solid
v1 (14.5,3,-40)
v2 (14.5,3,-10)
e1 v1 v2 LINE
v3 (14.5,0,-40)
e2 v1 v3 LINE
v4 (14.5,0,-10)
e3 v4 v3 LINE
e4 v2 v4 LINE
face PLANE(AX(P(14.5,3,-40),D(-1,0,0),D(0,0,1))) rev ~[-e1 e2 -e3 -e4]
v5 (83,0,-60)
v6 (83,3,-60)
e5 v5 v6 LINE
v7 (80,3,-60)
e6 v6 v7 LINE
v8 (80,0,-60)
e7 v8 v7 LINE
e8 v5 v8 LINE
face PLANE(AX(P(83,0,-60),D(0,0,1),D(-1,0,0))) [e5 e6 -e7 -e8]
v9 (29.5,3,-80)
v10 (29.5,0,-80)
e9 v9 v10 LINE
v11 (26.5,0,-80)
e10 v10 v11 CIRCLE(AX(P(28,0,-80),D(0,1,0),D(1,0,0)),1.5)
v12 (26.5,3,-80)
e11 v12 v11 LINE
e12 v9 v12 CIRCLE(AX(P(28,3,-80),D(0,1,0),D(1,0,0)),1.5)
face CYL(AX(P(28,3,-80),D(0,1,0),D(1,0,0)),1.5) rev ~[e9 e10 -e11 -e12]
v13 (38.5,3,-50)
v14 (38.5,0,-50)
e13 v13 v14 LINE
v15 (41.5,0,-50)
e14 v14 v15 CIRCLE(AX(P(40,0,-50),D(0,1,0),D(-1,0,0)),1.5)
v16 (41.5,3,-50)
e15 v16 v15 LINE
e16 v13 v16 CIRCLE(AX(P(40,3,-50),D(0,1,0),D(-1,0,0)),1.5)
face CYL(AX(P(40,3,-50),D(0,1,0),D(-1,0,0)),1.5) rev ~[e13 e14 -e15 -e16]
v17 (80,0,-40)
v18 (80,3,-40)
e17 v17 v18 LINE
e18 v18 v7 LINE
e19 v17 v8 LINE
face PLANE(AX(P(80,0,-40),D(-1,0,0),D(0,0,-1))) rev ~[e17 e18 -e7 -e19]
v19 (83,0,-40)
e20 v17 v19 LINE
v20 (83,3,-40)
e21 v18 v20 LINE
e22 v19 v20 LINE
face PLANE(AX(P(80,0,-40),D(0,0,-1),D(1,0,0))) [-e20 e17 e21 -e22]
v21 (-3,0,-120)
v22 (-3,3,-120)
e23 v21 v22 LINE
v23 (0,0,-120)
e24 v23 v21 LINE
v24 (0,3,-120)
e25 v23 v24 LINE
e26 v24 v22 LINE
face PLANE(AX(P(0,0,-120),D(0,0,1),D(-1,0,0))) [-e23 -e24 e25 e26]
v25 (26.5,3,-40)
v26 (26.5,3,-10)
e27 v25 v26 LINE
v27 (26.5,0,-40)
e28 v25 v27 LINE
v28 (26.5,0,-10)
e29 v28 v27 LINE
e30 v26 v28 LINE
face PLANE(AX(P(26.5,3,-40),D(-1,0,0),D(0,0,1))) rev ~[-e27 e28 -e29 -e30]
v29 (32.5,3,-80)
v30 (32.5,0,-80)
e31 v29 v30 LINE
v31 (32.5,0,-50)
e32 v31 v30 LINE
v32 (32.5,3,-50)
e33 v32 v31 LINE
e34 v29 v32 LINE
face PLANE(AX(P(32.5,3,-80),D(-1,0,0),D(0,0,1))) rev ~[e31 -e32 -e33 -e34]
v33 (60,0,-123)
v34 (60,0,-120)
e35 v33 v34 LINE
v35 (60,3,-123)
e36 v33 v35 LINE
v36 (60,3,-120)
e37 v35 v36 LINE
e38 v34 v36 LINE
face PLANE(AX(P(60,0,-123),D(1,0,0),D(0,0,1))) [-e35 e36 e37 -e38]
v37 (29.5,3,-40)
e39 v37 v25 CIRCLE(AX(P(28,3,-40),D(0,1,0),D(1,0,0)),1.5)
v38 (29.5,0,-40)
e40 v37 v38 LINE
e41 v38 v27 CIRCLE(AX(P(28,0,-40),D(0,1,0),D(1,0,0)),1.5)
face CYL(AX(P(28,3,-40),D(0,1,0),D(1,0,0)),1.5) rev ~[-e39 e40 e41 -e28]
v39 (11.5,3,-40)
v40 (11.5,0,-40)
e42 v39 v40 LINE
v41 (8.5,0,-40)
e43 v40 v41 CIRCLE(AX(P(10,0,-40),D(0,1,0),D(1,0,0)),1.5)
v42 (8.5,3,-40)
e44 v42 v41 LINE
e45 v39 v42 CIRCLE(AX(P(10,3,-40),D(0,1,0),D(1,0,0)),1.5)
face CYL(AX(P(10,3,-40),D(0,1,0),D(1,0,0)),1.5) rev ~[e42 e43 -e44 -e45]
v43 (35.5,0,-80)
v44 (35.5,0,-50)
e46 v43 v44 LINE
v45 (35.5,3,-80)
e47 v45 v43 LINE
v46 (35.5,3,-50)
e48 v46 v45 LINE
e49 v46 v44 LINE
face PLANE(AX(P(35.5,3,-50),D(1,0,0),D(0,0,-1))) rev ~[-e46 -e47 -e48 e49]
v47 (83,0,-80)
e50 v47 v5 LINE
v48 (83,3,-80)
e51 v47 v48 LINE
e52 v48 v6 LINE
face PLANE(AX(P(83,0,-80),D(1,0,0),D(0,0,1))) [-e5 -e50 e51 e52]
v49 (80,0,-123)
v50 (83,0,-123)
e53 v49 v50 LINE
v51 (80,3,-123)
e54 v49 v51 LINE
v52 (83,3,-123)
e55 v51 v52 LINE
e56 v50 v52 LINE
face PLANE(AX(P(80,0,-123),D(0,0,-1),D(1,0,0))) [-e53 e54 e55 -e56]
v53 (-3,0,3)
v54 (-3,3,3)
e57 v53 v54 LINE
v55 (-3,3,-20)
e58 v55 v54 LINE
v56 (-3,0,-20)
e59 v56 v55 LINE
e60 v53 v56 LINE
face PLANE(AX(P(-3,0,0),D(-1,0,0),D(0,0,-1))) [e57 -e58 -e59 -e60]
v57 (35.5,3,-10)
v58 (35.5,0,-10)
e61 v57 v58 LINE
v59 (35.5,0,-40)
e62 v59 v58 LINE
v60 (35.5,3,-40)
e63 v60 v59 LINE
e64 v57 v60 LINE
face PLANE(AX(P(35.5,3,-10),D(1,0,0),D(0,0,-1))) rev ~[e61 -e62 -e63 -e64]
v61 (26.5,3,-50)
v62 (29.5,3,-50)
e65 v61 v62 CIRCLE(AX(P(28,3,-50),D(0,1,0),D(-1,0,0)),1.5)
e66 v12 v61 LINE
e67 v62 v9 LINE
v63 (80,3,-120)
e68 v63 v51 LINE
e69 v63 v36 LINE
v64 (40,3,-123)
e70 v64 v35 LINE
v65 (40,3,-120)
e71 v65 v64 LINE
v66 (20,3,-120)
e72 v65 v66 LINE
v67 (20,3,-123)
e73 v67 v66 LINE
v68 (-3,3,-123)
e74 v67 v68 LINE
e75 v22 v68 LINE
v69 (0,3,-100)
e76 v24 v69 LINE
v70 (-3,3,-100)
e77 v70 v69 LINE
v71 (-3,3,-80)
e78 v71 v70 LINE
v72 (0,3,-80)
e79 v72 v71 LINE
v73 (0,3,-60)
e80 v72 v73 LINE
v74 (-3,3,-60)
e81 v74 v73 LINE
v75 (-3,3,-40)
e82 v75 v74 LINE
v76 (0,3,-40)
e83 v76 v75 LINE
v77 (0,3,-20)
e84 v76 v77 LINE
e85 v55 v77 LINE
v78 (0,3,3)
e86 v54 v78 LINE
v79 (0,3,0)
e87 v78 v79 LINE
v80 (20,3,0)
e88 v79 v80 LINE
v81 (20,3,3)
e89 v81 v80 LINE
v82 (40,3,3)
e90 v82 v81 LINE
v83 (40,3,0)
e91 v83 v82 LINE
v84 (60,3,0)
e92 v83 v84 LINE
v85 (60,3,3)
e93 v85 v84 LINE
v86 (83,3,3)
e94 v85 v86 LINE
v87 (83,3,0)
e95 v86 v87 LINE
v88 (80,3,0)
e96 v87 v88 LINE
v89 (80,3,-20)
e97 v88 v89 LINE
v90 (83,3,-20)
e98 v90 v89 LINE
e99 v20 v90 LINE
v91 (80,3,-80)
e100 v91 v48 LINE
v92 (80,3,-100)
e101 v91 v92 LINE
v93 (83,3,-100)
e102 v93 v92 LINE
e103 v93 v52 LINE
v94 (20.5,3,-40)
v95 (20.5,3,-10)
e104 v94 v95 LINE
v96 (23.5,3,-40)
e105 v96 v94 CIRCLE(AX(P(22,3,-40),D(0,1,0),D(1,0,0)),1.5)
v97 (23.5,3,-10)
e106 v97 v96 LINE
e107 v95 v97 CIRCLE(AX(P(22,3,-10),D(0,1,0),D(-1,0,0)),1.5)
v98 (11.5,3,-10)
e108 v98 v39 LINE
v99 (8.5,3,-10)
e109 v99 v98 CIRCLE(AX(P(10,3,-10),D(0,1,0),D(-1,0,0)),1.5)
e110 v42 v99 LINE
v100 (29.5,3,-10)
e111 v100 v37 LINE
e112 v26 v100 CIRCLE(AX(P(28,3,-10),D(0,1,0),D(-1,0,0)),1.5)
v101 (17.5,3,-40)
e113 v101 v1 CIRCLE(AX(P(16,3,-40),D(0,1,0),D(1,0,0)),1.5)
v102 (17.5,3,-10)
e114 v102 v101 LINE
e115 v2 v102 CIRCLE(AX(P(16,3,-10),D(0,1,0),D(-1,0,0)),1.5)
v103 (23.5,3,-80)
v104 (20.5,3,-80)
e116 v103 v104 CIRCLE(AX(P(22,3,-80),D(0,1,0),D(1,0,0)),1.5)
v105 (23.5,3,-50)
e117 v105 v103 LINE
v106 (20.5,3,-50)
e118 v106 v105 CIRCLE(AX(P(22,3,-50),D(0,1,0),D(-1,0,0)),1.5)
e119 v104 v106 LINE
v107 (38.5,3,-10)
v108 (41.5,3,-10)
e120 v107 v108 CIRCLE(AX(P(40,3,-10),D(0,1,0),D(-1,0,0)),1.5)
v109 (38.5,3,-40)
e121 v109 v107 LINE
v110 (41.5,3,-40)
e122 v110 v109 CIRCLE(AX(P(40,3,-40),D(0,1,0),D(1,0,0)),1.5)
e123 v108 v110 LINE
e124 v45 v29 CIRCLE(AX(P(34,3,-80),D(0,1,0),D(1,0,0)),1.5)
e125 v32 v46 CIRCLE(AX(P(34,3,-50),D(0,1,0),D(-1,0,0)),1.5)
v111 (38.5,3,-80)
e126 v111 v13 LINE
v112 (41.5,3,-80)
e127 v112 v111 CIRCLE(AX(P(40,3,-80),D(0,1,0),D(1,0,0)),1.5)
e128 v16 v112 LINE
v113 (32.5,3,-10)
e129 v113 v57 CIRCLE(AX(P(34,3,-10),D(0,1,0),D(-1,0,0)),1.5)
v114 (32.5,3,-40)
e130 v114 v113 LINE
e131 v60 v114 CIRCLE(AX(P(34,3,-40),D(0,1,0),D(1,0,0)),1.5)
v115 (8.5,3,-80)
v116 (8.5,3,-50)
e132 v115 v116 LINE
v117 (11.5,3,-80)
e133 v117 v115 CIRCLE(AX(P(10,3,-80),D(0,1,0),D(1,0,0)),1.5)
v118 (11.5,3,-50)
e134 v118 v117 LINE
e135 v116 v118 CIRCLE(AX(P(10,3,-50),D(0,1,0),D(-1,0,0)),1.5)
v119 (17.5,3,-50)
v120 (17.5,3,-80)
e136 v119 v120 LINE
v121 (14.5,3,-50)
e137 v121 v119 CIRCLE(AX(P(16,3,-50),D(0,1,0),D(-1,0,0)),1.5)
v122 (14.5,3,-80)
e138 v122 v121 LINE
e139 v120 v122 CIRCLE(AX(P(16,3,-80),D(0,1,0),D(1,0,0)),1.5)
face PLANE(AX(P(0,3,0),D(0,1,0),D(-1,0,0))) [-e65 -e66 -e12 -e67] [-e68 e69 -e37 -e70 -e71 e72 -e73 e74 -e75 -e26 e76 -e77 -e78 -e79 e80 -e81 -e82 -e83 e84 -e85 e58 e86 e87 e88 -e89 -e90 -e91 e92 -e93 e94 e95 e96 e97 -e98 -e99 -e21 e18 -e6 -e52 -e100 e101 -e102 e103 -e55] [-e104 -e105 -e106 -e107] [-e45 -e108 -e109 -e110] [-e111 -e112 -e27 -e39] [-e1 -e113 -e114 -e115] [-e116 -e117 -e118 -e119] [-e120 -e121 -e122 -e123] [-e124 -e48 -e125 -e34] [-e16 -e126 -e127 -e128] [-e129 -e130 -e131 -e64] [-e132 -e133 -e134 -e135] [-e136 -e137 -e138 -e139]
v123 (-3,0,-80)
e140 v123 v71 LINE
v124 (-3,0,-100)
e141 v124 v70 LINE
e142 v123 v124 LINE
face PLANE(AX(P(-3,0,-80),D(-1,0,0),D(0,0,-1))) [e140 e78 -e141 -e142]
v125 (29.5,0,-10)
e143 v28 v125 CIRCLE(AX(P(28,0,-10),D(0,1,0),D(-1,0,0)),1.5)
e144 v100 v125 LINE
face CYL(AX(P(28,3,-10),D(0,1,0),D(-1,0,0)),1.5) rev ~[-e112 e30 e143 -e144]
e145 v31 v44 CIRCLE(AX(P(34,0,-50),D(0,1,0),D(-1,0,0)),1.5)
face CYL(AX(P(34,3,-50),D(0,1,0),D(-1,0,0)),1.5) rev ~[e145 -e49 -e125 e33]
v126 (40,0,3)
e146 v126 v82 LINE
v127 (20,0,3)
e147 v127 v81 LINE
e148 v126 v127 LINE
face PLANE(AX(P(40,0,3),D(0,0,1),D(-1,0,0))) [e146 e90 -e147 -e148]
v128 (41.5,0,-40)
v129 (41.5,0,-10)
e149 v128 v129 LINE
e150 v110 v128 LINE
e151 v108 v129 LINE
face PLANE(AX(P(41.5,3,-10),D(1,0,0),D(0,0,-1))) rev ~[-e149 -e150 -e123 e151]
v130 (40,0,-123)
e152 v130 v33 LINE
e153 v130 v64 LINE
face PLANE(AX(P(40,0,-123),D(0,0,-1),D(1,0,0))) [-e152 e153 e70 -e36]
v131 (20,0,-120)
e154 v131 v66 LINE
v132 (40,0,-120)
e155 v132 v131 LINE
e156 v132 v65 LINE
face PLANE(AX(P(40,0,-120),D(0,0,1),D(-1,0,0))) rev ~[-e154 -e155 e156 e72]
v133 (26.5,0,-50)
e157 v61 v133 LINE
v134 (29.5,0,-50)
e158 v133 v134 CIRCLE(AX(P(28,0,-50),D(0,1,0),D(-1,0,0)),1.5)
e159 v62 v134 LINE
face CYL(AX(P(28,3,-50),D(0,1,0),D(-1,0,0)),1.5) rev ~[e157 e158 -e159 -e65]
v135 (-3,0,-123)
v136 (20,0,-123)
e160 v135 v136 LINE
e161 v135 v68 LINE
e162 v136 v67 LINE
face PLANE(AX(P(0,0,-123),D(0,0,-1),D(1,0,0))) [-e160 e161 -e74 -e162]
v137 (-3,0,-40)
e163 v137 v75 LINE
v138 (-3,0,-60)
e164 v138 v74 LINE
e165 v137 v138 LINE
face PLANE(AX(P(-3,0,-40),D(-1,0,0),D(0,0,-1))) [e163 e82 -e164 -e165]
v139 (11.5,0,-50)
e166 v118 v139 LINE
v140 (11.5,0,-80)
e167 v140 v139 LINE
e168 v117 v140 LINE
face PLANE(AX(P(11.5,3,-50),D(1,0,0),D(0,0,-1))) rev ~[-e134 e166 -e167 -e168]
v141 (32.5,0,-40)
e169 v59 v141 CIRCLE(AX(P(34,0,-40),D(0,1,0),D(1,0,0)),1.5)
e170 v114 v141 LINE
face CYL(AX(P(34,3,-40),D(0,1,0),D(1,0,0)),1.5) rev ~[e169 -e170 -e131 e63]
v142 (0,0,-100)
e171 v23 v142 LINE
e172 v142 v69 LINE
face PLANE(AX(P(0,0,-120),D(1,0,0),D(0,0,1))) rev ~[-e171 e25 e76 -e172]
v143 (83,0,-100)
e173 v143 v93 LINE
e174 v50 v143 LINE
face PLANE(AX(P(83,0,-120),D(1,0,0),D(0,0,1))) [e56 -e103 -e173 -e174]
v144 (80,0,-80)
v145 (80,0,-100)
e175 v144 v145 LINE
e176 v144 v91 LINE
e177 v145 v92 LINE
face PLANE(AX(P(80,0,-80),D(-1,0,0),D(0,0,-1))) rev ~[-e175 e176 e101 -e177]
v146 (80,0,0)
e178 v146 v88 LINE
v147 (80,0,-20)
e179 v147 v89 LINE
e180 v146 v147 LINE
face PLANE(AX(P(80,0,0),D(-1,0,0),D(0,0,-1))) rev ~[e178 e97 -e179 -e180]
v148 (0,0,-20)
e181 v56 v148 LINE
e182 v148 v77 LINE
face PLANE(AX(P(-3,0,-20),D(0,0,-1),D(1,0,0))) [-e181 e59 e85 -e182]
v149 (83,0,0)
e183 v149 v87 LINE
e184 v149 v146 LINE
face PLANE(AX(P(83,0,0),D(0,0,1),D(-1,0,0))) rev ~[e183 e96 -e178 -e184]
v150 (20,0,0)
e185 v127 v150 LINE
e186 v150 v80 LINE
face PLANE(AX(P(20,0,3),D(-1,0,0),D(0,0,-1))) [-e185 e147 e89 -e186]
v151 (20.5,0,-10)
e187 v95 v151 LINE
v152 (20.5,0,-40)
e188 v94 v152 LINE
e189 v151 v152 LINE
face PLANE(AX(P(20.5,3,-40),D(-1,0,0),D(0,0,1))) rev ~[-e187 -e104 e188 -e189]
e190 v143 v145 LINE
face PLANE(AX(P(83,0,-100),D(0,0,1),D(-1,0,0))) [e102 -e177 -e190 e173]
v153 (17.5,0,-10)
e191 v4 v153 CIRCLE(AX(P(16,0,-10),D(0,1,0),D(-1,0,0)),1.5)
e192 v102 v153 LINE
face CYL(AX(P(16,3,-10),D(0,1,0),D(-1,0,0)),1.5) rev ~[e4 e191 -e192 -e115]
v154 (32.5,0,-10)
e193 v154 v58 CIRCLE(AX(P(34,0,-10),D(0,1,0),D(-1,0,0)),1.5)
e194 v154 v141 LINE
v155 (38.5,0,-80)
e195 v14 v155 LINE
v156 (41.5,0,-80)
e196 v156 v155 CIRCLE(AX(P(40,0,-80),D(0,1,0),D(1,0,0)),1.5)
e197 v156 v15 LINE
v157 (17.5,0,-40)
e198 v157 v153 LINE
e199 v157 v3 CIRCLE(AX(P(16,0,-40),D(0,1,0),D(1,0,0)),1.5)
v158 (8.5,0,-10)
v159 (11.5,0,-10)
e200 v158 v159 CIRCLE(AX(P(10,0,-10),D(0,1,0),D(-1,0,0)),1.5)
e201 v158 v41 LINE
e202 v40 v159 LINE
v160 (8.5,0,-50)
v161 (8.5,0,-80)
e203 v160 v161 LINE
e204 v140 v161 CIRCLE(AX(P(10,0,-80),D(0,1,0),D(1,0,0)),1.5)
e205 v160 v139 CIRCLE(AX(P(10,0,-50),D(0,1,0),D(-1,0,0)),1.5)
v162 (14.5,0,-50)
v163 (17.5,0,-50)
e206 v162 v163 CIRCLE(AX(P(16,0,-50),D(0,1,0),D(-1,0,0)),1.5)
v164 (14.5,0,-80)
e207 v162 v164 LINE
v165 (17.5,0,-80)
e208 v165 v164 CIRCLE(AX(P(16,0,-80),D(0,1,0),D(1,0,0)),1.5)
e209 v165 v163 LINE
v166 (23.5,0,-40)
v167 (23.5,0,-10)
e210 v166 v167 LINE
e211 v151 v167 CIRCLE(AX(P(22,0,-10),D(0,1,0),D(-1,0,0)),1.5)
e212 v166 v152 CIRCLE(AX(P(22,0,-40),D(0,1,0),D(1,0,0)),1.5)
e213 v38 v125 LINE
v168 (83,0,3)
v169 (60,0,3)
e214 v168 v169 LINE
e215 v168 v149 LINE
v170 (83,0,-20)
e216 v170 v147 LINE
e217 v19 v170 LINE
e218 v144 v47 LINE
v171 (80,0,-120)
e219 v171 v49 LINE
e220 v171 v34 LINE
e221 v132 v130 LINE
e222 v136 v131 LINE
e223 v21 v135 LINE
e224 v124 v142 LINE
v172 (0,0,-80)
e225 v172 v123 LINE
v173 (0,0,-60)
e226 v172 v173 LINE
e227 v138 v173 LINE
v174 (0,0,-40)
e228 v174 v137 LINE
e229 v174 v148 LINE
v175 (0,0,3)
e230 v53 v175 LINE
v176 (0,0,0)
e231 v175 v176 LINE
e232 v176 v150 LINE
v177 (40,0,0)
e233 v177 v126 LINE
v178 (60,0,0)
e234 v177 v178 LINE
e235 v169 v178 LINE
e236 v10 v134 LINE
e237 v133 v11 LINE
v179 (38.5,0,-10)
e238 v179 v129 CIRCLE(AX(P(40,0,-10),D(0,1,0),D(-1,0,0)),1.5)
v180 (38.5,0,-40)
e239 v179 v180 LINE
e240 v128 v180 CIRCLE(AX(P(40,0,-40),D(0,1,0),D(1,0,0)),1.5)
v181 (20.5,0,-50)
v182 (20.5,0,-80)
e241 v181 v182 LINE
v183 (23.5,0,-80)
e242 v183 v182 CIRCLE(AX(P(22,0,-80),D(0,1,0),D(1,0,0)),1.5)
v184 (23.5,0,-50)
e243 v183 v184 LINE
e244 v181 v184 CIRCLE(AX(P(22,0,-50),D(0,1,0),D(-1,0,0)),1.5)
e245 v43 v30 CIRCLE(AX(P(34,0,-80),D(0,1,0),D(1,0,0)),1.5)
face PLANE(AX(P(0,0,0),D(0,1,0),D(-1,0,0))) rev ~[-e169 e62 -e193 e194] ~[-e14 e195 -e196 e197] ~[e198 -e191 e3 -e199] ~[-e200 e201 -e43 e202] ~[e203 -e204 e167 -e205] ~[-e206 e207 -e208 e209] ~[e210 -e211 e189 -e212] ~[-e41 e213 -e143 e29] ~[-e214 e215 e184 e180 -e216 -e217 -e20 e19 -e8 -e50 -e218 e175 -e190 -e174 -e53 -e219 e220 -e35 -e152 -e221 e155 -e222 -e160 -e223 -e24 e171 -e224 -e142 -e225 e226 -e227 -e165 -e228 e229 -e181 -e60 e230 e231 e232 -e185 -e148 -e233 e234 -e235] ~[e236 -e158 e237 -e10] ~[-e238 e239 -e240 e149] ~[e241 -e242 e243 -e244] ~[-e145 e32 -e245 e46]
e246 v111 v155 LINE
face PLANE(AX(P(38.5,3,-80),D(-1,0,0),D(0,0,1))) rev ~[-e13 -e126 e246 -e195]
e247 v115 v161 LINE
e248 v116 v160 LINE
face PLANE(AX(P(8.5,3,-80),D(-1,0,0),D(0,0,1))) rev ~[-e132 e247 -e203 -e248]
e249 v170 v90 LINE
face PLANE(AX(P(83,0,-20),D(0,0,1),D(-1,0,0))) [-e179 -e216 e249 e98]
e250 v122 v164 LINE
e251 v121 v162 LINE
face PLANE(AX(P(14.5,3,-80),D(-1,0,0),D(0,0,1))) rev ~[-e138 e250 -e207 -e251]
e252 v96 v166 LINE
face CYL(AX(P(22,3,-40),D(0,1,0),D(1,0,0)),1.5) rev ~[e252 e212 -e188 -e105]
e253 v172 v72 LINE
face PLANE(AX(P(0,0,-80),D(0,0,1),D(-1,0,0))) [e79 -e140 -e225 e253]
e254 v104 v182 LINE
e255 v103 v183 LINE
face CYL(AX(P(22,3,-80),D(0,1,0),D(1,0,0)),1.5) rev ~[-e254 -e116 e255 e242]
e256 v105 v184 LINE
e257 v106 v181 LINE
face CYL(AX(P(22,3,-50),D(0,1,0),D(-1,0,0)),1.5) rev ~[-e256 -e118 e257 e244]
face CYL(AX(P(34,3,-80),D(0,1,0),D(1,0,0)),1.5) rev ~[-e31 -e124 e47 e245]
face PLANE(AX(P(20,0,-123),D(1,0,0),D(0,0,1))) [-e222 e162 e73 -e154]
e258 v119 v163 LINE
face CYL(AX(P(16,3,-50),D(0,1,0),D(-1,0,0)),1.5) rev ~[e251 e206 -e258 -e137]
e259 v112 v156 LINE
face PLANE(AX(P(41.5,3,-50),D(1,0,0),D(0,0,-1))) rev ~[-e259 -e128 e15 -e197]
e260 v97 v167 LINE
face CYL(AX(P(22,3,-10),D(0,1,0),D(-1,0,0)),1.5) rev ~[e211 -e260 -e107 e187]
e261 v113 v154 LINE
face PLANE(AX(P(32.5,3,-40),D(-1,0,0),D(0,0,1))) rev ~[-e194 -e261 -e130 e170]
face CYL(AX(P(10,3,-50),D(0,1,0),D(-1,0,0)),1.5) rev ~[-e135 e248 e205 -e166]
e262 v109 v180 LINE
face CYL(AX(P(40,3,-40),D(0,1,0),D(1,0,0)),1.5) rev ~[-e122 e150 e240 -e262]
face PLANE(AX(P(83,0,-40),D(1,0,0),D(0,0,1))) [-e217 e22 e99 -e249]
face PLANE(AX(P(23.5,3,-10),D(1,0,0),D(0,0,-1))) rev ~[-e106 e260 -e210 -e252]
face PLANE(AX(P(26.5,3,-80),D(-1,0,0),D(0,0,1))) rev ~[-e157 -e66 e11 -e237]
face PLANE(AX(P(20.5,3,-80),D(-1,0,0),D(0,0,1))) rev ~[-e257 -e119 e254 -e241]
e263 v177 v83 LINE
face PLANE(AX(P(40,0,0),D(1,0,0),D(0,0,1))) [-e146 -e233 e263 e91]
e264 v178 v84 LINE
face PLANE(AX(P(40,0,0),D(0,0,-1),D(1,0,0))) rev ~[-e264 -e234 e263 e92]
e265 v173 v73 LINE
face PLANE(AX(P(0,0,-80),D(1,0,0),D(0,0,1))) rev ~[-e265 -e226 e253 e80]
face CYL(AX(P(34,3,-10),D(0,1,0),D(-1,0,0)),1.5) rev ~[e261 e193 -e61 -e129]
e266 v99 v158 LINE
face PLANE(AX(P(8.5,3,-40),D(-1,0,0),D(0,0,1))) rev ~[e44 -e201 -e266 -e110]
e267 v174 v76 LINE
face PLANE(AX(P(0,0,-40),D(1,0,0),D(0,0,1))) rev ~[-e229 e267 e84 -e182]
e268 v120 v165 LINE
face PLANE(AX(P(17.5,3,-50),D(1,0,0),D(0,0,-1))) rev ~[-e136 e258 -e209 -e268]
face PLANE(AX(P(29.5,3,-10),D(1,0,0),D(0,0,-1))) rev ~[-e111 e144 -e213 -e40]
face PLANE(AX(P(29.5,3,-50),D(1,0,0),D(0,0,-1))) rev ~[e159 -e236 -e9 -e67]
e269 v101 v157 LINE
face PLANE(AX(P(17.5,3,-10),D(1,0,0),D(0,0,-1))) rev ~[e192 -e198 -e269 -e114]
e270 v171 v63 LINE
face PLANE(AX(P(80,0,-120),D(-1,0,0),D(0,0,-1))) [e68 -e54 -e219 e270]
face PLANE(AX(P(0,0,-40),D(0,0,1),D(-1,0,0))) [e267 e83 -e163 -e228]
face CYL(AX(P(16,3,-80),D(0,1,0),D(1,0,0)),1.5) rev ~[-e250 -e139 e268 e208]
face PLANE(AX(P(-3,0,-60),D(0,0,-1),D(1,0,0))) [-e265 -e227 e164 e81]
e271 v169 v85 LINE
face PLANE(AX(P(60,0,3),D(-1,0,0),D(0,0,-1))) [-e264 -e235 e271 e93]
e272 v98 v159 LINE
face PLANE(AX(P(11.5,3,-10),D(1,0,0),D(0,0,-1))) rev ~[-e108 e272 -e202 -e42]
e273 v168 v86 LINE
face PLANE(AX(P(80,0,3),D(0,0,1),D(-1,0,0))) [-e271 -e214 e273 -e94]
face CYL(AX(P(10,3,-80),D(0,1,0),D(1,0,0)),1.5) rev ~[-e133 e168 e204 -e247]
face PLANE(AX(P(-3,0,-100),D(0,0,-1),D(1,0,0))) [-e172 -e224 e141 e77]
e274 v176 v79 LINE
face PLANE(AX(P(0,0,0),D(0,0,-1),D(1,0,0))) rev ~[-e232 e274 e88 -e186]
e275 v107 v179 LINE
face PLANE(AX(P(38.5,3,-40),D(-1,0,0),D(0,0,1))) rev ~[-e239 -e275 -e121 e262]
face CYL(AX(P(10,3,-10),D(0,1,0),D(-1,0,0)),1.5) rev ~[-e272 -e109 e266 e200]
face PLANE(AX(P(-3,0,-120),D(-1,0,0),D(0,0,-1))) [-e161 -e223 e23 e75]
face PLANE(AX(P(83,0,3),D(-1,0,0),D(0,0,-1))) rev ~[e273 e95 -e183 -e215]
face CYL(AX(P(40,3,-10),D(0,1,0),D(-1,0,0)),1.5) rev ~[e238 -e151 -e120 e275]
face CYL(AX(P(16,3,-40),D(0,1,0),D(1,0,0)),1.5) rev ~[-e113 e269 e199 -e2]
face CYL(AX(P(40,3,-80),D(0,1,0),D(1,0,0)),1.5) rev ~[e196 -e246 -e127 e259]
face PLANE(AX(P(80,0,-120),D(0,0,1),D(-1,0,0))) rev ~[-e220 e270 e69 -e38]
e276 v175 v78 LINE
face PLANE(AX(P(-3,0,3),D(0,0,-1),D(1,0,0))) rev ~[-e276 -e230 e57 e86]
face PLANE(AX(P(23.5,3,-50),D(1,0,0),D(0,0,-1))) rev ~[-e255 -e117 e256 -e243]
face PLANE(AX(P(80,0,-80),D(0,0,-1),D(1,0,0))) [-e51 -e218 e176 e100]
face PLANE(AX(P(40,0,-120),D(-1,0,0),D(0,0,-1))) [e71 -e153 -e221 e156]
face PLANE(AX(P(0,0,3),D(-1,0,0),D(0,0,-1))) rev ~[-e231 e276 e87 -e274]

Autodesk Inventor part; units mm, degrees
ref_plane "YZ Plane" through (0, 0, 0) normal (1, 0, 0) x (0, 1, 0)
ref_plane "XZ Plane" through (0, 0, 0) normal (0, 1, 0) x (-1, 0, 0)
ref_plane "XY Plane" through (0, 0, 0) normal (0, 0, 1) x (1, 0, 0)
sketch "Sketch1" plane through (0, 0, 0) normal (0, 1, 0) x (-1, 0, 0)
  line L0 (0, 0) -> (-80, 0)
  line L1 (-80, 0) -> (-80, -120)
  line L2 (-80, -120) -> (0, -120)
  line L3 (0, -120) -> (0, 0)
  line L4 (0, -120) -> (0, -123)
  line L5 (0, -123) -> (-20, -123)
  line L6 (-20, -123) -> (-20, -120)
  line L7 (-40, -123) -> (-60, -123)
  line L8 (-60, -123) -> (-60, -120)
  line L9 (-40, -120) -> (-40, -123)
  line L10 (-80, 0) -> (-80, 3)
  line L11 (-80, 3) -> (-60, 3)
  line L12 (-60, 3) -> (-60, 0)
  line L13 (-40, 3) -> (-20, 3)
  line L14 (-40, 0) -> (-40, 3)
  line L15 (-20, 3) -> (-20, 0)
  line L16 (0, 0) -> (3, 0)
  line L17 (3, 0) -> (3, -20)
  line L18 (3, -20) -> (0, -20)
  line L19 (3, -60) -> (0, -60)
  line L20 (3, -40) -> (3, -60)
  line L21 (0, -40) -> (3, -40)
  line L22 (3, -100) -> (0, -100)
  line L23 (3, -80) -> (3, -100)
  line L24 (0, -80) -> (3, -80)
  line L25 (-80, -120) -> (-83, -120)
  line L26 (-83, -120) -> (-83, -100)
  line L27 (-83, -100) -> (-80, -100)
  line L28 (-83, -60) -> (-80, -60)
  line L29 (-83, -80) -> (-83, -60)
  line L30 (-80, -80) -> (-83, -80)
  line L31 (-83, -20) -> (-80, -20)
  line L32 (-83, -40) -> (-83, -20)
  line L33 (-80, -40) -> (-83, -40)
  line L34 (0, -20) -> (0, -40)
  line L35 (0, -60) -> (0, -80)
  line L36 (0, -100) -> (0, -123)
  line L37 (-20, -120) -> (-40, -120)
  line L38 (-60, -120) -> (-83, -120)
  line L39 (-80, -100) -> (-80, -80)
  line L40 (-80, -60) -> (-80, -40)
  line L41 (-80, -20) -> (-80, 3)
  line L42 (-60, 0) -> (-40, 0)
  line L43 (-20, 0) -> (3, 0)
  line L44 (-80, 3) -> (-83, 3)
  line L45 (-83, 3) -> (-83, 0)
  line L46 (-83, 0) -> (-80, 0)
  line L47 (3, 0) -> (3, 3)
  line L48 (3, 3) -> (0, 3)
  line L49 (0, 3) -> (0, 0)
  line L50 (0, -120) -> (3, -120)
  line L51 (3, -120) -> (3, -123)
  line L52 (3, -123) -> (0, -123)
  line L53 (-80, -120) -> (-80, -123)
  line L54 (-80, -123) -> (-83, -123)
  line L55 (-83, -123) -> (-83, -120)
  dimension "d0" = 120
  dimension "d1" = 80
  dimension "d2" = 3
  dimension "d3" = 20
  dimension "d13" = 40
  dimension "d18" = 3
  dimension "d19" = 20
  dimension "d22" = 40
  dimension "d27" = 3
  dimension "d28" = 20
  dimension "d31" = 40
  dimension "d36" = 3
  dimension "d37" = 20
  dimension "d40" = 40
  dimension "d47" = 3
  dimension "d48" = 3
  dimension "d49" = 3
extrude "Extrusion3" add sketch "Sketch1" along normal blind 3
sketch "Sketch2" plane through (0, 3, 0) normal (0, 1, 0) x (1, 0, 0)
  line L0 (10, 10) -> (10, 40) construction
  line L1 (11.5, 10) -> (11.5, 40)
  line L2 (8.5, 40) -> (8.5, 10)
  arc A0 (8.5, 10) -> (11.5, 10) centre (10, 10) ccw
  arc A1 (11.5, 40) -> (8.5, 40) centre (10, 40) ccw
  line L3 (0, 40) -> (0, 20) projected
  line L4 (0, 0) -> (20, 0) projected
  point P0 (10, 25)
  dimension "d50" = 30
  dimension "d51" = 3
  dimension "d52" = 10
  dimension "d53" = 10
extrude "Extrusion4" cut sketch "Sketch2" against normal up to next
pattern_linear "Rectangular Pattern2" count 2 spacing 40 along (0, 0, -1) of "Extrusion4"
pattern_linear "Rectangular Pattern3" count 6 spacing 6 along (1, 0, 0) of "Extrusion4", "Rectangular Pattern2"
properties part number "ControlBoxTop" material "Wood (Birch)"
